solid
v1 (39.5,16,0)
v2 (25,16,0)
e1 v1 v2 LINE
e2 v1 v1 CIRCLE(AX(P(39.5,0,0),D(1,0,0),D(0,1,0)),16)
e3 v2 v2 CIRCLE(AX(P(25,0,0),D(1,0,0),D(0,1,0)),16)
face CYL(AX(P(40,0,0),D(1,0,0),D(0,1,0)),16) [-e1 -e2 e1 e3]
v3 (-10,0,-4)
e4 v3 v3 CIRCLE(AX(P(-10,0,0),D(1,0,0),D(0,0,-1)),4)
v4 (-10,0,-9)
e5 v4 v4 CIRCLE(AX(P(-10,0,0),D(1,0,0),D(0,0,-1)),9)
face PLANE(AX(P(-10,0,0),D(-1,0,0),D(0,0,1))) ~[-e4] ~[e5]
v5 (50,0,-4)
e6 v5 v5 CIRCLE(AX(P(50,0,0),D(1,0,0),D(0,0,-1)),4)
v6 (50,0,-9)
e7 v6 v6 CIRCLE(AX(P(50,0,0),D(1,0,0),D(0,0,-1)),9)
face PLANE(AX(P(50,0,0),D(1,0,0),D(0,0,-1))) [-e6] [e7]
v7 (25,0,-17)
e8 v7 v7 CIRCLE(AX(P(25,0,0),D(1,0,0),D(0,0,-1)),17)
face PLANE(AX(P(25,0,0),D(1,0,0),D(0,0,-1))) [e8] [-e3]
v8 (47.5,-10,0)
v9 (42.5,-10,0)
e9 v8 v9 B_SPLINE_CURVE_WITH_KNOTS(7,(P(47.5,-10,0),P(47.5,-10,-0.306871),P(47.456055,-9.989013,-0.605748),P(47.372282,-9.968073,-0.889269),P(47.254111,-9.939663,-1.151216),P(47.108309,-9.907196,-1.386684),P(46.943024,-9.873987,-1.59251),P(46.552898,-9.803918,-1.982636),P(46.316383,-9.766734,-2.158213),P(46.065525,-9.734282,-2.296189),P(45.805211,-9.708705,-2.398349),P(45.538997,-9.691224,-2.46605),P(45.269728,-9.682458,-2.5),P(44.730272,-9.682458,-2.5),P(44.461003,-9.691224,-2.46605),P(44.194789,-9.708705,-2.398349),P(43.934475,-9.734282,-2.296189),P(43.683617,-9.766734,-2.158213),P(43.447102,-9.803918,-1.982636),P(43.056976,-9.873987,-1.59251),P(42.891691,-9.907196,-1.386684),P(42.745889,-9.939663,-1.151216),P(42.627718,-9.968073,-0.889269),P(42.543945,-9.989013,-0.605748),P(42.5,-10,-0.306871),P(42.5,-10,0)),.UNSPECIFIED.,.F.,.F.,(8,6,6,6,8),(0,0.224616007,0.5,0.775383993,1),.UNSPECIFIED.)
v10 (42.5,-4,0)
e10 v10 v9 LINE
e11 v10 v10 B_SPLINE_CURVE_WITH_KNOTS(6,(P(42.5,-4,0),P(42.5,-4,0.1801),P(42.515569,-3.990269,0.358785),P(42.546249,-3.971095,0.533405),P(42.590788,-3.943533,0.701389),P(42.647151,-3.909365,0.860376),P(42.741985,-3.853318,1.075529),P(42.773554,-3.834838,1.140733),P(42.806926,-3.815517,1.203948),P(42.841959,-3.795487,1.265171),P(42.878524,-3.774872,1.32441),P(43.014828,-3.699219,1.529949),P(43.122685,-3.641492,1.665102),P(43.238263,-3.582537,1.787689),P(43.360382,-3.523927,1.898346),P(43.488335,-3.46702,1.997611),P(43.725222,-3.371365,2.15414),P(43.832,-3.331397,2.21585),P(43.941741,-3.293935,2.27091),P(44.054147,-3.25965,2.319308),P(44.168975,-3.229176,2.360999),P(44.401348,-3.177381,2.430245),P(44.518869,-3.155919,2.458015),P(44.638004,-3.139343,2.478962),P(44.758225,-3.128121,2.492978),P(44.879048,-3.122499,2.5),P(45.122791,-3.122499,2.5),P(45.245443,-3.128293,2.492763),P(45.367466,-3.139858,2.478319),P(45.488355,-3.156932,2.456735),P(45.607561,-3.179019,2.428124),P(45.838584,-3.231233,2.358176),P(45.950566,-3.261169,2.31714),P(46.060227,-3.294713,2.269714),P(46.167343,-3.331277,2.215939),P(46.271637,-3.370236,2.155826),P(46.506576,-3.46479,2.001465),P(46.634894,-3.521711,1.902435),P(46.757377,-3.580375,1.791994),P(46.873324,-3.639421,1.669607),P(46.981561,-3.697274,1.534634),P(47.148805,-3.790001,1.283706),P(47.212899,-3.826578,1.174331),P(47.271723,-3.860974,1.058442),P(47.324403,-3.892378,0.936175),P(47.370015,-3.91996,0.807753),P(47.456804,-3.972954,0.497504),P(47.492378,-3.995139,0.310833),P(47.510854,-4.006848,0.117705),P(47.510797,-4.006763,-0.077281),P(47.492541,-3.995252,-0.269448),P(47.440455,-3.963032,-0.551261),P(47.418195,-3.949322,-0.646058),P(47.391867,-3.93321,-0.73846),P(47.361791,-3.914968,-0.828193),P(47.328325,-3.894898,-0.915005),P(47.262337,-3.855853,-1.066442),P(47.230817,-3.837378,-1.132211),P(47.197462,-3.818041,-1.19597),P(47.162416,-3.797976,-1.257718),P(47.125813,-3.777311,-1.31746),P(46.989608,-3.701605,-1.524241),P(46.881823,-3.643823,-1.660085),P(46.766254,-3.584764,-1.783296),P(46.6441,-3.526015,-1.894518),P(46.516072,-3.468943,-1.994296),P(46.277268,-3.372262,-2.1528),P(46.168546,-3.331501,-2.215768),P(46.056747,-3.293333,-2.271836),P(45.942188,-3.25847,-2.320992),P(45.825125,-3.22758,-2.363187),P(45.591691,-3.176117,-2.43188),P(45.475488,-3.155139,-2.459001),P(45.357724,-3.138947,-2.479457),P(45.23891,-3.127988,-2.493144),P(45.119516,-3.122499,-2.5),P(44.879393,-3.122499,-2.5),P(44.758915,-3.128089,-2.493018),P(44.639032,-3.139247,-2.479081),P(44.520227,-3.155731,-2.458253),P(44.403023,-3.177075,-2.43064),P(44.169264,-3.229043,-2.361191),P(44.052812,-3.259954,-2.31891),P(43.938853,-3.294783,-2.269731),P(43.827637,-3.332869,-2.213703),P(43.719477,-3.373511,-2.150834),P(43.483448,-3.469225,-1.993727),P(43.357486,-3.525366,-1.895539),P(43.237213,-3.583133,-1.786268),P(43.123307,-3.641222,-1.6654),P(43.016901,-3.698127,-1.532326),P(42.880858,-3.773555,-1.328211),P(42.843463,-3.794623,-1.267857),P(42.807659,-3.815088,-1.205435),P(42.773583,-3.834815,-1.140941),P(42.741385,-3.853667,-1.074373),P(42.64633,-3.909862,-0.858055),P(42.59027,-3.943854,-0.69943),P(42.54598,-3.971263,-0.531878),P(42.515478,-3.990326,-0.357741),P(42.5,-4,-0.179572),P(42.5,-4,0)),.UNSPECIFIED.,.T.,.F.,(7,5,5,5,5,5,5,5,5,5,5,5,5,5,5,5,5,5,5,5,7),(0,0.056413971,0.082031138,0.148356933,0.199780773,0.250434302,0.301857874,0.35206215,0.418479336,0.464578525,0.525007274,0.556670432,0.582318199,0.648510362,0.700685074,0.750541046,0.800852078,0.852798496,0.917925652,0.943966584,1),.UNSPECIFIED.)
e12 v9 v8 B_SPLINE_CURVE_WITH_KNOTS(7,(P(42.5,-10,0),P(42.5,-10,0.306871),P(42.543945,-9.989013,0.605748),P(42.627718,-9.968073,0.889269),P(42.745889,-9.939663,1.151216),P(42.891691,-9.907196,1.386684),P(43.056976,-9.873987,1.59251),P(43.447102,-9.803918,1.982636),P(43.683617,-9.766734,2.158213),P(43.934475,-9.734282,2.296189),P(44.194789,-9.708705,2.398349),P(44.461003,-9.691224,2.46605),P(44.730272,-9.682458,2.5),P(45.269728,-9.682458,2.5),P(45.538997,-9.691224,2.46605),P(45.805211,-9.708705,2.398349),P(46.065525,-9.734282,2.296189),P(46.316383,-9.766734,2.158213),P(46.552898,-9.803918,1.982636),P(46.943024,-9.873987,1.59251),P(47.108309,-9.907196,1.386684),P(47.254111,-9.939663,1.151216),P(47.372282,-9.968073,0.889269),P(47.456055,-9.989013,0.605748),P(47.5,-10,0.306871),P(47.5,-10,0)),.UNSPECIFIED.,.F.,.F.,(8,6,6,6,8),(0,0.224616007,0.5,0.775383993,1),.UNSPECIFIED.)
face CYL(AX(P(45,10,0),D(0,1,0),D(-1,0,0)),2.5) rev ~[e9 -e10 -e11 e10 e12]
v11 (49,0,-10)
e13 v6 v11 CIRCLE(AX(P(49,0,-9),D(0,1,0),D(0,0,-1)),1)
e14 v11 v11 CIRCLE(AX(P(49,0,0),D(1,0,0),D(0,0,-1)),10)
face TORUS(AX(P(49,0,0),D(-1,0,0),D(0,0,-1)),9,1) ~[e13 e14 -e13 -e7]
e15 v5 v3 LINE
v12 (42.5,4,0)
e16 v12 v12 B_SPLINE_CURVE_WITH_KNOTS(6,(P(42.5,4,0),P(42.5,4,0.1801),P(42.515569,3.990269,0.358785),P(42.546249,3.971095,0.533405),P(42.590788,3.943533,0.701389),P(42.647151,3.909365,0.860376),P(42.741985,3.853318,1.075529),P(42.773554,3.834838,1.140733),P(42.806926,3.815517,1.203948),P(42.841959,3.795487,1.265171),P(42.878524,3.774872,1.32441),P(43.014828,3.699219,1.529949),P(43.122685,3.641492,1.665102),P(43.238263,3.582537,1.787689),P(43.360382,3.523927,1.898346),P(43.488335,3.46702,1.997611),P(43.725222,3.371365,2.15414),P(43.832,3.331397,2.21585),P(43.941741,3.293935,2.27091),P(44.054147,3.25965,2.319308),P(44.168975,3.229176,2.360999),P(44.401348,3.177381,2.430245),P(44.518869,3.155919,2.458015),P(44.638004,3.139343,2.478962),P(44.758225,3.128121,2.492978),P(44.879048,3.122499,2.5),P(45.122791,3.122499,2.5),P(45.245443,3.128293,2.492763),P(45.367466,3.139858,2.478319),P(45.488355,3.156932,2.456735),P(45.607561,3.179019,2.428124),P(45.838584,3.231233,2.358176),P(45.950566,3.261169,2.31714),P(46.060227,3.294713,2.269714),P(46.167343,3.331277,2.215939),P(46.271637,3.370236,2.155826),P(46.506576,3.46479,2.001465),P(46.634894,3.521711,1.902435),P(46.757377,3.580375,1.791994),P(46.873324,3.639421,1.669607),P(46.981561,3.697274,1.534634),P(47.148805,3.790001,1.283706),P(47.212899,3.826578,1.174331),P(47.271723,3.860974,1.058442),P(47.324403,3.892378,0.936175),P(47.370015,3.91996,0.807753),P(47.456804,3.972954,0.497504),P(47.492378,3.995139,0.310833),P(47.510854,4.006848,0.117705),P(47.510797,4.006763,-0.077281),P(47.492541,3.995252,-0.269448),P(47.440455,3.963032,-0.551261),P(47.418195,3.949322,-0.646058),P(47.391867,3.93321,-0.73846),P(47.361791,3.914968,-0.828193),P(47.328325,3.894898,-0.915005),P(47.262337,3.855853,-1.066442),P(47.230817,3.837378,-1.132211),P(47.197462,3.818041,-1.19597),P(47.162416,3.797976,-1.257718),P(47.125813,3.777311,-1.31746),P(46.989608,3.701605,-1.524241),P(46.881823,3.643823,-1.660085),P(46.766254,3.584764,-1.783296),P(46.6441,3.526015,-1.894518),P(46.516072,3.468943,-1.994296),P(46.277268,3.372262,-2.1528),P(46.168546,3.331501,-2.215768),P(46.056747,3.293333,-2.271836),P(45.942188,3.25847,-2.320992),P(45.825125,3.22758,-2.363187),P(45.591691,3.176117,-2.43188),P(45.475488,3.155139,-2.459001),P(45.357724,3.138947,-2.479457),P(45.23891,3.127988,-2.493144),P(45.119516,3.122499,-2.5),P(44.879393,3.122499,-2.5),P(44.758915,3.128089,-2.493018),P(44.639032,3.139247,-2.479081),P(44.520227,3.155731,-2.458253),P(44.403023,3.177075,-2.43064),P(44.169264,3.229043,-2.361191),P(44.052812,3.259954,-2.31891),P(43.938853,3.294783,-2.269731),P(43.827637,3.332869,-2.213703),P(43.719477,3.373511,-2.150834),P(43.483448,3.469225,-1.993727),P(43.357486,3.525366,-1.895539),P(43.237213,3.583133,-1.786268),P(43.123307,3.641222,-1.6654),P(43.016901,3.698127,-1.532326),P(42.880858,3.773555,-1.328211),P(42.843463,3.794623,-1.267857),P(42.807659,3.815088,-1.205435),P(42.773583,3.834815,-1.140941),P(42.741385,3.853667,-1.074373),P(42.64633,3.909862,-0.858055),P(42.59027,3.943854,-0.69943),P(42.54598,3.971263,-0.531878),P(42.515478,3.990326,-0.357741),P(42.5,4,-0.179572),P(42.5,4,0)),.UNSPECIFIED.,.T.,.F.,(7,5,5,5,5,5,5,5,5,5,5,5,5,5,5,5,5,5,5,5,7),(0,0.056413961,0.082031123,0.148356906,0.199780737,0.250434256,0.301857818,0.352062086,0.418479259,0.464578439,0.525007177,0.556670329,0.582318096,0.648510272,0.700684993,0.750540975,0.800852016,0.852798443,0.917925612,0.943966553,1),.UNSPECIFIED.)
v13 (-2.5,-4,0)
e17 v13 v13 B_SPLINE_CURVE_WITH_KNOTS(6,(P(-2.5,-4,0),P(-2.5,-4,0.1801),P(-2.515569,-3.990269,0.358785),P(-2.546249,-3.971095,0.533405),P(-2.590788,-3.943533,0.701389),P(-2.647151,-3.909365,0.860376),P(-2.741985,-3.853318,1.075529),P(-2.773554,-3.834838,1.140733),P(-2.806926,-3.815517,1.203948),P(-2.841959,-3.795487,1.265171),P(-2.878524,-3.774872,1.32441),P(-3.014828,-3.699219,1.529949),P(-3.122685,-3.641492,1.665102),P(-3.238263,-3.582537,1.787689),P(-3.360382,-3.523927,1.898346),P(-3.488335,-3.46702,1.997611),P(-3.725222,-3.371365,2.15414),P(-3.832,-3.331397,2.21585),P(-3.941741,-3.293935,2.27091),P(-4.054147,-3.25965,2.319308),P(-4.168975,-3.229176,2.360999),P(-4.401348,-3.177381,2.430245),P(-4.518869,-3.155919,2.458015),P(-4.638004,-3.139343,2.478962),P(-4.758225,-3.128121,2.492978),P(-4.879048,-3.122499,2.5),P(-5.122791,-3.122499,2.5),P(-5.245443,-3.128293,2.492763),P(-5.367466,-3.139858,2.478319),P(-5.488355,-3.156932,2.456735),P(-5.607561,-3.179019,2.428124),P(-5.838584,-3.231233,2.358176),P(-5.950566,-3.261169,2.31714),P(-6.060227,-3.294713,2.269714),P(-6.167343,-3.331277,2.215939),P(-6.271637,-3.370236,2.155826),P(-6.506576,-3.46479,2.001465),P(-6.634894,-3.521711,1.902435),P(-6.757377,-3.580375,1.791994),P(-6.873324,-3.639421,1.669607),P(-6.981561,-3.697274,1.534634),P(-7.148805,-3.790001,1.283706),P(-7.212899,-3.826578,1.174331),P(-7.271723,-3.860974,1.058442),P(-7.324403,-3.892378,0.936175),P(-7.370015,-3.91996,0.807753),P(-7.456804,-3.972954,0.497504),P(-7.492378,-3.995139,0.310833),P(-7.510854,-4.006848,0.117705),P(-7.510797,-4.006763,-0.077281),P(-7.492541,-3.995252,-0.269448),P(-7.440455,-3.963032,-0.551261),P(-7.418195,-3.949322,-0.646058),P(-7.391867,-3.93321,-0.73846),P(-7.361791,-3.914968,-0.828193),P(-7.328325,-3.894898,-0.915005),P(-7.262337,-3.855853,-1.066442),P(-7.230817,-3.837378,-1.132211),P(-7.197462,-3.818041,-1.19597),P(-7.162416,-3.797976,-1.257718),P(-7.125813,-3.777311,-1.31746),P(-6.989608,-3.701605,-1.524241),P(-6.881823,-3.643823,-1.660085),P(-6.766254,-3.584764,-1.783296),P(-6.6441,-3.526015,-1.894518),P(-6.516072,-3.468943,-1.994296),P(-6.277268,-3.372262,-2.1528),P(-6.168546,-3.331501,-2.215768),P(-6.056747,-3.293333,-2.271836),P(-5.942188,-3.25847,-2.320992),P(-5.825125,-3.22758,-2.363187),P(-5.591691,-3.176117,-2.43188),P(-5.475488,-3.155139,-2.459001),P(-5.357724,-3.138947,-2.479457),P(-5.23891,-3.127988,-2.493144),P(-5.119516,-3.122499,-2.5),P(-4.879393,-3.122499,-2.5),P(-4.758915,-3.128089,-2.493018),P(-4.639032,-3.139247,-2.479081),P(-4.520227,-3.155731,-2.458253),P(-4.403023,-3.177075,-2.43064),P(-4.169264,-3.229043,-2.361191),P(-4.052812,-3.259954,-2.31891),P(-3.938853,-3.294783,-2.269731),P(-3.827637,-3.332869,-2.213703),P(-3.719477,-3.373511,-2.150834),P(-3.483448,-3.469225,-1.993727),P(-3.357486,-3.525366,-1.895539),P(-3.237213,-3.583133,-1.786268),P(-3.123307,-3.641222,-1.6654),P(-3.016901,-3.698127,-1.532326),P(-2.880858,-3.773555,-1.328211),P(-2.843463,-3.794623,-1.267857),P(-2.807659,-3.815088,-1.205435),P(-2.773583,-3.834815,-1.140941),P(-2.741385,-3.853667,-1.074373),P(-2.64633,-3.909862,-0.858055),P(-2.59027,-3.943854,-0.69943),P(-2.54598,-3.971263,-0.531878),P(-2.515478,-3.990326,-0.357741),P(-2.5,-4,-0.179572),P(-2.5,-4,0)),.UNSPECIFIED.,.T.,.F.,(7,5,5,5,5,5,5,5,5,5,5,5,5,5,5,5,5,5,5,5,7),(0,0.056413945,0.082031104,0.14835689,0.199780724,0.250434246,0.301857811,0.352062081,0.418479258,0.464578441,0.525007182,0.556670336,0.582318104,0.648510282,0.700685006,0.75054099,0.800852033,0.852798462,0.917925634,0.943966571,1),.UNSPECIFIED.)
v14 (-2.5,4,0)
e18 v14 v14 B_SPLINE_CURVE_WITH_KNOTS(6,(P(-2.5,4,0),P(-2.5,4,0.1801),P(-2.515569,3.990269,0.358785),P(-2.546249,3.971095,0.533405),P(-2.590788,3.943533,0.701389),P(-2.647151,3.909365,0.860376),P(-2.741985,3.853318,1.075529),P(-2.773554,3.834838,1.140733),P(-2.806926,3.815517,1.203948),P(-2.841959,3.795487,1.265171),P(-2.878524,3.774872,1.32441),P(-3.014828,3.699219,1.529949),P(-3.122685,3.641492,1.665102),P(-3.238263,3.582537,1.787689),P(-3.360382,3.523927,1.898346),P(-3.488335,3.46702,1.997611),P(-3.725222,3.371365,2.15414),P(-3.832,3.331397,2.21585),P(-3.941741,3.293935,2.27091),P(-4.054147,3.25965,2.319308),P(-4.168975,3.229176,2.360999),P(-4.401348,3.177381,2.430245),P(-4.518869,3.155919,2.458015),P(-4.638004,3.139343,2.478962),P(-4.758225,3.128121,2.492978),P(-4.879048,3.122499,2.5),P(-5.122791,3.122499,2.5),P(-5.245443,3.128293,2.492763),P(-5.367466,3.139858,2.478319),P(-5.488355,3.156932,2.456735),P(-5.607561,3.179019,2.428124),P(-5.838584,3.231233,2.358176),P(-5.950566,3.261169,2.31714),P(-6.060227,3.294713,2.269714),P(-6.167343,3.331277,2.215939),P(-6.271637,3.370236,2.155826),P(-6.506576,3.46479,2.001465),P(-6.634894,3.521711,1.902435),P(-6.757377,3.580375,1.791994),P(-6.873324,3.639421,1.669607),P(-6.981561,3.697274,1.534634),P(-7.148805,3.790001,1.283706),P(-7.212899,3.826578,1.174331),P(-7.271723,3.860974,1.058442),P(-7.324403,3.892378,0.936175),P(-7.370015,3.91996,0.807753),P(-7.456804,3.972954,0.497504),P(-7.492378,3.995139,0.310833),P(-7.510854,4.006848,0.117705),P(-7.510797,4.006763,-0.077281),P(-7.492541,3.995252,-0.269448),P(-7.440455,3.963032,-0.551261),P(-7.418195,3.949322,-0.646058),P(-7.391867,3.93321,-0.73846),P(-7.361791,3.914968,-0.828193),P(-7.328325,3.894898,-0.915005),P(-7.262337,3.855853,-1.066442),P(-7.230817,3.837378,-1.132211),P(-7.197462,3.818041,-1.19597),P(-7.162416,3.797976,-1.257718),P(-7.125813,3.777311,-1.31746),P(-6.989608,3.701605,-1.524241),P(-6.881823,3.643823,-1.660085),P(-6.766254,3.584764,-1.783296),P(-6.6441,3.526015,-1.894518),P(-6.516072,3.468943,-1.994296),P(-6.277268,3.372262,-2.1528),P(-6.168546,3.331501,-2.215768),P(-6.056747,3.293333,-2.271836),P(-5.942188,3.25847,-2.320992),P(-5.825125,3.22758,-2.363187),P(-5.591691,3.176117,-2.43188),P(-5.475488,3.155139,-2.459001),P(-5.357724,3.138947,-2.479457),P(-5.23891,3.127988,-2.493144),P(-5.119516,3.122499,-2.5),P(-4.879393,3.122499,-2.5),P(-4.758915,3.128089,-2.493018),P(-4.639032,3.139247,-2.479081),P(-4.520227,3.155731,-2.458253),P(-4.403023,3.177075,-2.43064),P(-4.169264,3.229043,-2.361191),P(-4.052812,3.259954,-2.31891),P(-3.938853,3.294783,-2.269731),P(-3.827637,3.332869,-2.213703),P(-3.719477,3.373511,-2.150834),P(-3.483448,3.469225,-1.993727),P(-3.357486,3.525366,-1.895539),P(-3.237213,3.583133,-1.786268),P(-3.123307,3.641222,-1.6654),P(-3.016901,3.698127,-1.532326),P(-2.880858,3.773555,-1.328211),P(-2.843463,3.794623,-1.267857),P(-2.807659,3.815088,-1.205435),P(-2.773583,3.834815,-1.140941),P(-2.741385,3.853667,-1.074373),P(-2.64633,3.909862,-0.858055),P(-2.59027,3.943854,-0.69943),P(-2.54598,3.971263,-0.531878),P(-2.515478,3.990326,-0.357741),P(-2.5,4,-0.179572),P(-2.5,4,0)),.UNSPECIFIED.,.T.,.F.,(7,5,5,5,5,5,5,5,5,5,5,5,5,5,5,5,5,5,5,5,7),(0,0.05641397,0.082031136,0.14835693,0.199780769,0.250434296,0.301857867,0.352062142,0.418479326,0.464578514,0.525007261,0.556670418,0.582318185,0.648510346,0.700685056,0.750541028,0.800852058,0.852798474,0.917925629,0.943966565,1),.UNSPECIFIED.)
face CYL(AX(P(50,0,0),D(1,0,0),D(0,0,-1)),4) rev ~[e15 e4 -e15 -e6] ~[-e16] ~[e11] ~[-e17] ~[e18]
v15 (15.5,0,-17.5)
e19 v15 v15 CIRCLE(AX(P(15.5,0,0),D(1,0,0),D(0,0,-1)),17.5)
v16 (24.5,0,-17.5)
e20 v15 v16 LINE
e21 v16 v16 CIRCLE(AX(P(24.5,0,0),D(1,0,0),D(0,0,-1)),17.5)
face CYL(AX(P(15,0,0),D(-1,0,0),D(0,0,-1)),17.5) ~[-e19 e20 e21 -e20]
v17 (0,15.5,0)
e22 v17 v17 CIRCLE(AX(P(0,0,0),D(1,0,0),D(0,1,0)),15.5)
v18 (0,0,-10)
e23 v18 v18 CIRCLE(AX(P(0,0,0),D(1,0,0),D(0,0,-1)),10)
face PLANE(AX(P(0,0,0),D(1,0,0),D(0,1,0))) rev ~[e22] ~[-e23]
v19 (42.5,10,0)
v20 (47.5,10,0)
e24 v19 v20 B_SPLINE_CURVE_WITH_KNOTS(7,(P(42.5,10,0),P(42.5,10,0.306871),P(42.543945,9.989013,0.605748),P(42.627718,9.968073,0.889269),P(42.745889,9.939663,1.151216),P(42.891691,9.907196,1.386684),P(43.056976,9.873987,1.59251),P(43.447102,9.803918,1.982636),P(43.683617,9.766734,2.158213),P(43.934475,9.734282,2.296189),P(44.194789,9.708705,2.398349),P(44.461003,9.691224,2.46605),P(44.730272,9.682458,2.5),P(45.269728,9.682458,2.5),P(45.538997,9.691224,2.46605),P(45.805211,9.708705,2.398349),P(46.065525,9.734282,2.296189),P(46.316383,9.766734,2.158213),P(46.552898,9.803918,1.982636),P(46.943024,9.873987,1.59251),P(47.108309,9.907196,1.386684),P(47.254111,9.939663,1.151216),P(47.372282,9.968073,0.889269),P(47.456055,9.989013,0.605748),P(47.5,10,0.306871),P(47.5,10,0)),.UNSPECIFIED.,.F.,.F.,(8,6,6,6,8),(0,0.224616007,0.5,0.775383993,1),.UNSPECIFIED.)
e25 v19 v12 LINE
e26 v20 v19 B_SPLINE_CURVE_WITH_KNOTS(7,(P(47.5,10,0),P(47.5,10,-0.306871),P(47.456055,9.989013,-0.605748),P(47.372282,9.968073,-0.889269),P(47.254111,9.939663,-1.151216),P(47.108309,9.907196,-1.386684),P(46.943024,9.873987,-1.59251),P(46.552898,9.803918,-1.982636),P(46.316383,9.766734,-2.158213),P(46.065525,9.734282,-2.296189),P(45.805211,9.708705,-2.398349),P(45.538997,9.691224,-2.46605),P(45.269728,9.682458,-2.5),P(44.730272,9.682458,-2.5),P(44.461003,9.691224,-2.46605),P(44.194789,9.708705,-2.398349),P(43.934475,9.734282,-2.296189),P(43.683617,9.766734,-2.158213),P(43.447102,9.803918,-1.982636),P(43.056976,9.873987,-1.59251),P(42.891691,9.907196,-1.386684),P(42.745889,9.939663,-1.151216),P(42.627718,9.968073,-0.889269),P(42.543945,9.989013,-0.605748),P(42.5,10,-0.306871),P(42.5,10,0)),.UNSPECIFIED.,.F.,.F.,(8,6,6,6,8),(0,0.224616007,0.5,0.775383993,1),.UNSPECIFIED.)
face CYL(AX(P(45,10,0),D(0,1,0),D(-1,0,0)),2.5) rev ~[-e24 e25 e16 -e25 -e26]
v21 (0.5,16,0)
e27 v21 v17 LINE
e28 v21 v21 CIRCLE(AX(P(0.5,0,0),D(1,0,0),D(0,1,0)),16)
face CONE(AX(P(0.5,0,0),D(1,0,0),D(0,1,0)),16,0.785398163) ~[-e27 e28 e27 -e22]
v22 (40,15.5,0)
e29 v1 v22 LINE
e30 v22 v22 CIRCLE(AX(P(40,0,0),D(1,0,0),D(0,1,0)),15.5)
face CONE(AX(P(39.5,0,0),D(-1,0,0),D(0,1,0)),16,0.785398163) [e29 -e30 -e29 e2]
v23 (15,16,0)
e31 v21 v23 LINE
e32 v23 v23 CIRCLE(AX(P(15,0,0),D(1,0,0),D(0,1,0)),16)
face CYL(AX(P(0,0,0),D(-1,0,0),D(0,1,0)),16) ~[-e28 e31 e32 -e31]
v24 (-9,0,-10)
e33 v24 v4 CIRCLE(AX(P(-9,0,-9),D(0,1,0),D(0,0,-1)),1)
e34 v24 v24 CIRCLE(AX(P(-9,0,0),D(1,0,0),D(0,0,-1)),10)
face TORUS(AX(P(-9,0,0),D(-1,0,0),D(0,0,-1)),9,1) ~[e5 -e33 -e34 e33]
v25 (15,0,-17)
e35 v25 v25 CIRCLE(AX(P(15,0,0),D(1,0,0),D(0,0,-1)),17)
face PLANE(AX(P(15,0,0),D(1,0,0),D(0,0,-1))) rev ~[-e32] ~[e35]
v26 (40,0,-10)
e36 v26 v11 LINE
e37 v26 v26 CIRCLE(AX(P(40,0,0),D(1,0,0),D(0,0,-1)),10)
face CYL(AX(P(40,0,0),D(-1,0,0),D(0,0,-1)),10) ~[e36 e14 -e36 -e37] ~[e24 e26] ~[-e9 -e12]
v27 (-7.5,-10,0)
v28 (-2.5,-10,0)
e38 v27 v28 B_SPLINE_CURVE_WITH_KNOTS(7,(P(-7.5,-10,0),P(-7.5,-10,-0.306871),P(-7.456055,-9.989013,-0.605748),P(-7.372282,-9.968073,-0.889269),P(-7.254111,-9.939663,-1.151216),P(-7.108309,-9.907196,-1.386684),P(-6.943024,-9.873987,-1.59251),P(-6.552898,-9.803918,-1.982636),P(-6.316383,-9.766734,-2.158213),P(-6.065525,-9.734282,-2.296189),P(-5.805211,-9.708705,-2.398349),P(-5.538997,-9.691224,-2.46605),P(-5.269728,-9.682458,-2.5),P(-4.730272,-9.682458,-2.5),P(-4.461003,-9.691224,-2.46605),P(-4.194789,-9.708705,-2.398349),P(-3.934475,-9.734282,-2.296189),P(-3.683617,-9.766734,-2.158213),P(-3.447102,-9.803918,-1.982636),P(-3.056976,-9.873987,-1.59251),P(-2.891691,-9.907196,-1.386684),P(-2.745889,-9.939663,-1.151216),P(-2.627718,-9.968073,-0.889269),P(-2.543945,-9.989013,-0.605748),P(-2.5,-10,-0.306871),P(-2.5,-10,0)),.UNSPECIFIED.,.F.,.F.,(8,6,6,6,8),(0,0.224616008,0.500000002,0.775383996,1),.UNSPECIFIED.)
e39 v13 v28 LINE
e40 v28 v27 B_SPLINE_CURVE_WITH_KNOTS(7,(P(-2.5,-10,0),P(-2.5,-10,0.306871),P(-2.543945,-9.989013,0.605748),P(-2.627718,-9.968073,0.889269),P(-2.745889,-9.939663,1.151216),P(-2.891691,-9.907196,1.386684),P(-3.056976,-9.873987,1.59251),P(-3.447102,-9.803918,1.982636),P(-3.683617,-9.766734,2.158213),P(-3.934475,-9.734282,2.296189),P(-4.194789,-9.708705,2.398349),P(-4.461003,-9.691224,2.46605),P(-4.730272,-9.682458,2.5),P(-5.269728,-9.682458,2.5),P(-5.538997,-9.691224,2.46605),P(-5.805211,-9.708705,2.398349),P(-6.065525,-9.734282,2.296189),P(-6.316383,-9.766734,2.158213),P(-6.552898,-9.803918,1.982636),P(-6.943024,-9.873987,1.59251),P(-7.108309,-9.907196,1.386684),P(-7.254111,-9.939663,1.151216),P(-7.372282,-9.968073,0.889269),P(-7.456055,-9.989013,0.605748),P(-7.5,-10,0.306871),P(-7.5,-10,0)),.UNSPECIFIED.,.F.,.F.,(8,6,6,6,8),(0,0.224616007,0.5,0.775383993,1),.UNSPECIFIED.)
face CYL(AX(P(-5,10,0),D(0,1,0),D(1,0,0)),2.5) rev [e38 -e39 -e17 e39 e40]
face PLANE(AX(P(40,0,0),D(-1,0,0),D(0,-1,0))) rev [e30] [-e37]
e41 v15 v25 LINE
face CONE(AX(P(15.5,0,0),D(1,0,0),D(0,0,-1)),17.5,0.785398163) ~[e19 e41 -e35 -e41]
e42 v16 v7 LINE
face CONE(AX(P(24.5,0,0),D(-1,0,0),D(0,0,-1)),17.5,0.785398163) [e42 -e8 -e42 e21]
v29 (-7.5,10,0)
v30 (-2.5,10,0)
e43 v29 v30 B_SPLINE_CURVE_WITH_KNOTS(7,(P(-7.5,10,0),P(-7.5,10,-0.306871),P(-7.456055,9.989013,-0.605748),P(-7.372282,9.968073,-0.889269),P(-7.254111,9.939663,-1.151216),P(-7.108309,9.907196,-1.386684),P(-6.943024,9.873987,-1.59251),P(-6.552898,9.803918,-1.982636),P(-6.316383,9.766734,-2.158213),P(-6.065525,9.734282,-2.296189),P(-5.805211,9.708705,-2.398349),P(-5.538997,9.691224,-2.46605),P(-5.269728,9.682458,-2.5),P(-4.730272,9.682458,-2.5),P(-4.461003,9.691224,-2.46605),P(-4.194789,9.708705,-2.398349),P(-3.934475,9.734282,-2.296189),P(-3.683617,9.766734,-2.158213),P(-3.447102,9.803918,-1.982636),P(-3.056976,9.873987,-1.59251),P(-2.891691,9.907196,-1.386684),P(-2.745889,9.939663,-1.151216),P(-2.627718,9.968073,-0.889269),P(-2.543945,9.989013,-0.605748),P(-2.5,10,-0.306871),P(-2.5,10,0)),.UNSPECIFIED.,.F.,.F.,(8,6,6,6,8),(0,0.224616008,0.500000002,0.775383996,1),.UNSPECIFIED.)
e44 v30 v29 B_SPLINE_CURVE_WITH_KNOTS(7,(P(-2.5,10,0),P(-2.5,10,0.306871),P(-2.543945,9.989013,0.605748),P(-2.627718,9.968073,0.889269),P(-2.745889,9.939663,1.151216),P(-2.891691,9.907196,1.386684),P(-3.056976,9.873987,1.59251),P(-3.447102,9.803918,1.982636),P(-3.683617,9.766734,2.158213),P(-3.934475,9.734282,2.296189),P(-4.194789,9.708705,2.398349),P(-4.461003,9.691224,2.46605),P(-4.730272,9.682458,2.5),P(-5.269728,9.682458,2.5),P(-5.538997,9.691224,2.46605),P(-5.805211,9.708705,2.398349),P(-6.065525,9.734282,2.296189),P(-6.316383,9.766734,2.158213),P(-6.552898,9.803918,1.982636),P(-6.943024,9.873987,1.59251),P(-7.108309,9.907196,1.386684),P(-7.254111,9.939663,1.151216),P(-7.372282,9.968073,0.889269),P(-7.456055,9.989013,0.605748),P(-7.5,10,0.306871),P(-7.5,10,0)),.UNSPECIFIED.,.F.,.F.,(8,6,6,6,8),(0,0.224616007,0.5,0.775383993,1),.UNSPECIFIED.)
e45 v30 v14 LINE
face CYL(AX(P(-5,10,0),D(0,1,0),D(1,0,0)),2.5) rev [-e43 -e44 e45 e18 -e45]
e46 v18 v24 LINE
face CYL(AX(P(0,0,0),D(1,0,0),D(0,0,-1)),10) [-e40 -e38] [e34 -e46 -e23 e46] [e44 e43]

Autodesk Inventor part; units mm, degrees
ref_plane "XY Plane" through (0, 0, 0) normal (0, 0, 1) x (1, 0, 0)
sketch "Sketch1" plane through (0, 0, 0) normal (1, 0, 0) x (0, 1, 0)
  circle A0 centre (0, 0) radius 16
  dimension "d0" = 32
extrude "Extrusion1" add sketch "Sketch1" along normal blind 15
sketch "Sketch2" plane through (15, 0, 0) normal (1, 0, 0) x (0, 0, -1)
  circle A0 centre (0, 0) radius 17.5
  dimension "d3" = 35
extrude "Extrusion2" add sketch "Sketch2" along normal blind 10
ref_plane "Work Plane2" through (20, 0, 0) normal (1, 0, 0) x (0, 1, 0)
mirror "Mirror1" about plane through (20, 0, 0) normal (1, 0, 0) of "Extrusion1"
thread "Thread3" size "M32x1.5" class "6g" standard "ANSI Metric M Profile" length 20
thread "Thread4" size "M32x1.5" class "6g" standard "ANSI Metric M Profile" length 20
chamfer "Chamfer2" distance 0.5 angle 45 2 edges at (15, 0, 17.5) (25, 0, 17.5)
sketch "Sketch6" plane through (40, 0, 0) normal (1, 0, 0) x (0, 0, -1)
  circle A0 centre (0, 0) radius 10
  dimension "d33" = 20
extrude "Extrusion6" add sketch "Sketch6" along normal blind 10
ref_plane "Work Plane3" through (0, 10, 0) normal (0, 1, 0) x (-1, 0, 0)
sketch "Sketch8" plane through (0, 10, 0) normal (0, 1, 0) x (-1, 0, 0)
  line L0 (-50, 10) -> (-50, -10) projected
  line L1 (-50, 0) -> (-45, 0)
  circle A0 centre (-45, 0) radius 2.5
  point P0 (0, 0)
  dimension "d40" = 5
  dimension "d41" = 5
extrude "Extrusion8" cut sketch "Sketch8" against normal blind 30
mirror "Mirror2" about plane through (20, 0, 0) normal (1, 0, 0) of "Extrusion6", "Extrusion8"
sketch "Sketch7" plane through (50, 0, 0) normal (1, 0, 0) x (0, 0, -1)
  circle A0 centre (0, 0) radius 4
  dimension "d36" = 8
extrude "Extrusion7" cut sketch "Sketch7" against normal blind 73
chamfer "Chamfer3" distance 0.5 angle 45 2 edges at (40, -16, 0) (0, -16, 0)
fillet "Fillet3" radius 1 2 edges at (50, 0, 10) (-10, 0, 10)
thread "Thread5" size "M5x0.5" class "6H" standard "ANSI Metric M Profile" length 20
thread "Thread6" size "M5x0.5" class "6H" standard "ANSI Metric M Profile" length 20
properties part number "sprocet adaptor2"
